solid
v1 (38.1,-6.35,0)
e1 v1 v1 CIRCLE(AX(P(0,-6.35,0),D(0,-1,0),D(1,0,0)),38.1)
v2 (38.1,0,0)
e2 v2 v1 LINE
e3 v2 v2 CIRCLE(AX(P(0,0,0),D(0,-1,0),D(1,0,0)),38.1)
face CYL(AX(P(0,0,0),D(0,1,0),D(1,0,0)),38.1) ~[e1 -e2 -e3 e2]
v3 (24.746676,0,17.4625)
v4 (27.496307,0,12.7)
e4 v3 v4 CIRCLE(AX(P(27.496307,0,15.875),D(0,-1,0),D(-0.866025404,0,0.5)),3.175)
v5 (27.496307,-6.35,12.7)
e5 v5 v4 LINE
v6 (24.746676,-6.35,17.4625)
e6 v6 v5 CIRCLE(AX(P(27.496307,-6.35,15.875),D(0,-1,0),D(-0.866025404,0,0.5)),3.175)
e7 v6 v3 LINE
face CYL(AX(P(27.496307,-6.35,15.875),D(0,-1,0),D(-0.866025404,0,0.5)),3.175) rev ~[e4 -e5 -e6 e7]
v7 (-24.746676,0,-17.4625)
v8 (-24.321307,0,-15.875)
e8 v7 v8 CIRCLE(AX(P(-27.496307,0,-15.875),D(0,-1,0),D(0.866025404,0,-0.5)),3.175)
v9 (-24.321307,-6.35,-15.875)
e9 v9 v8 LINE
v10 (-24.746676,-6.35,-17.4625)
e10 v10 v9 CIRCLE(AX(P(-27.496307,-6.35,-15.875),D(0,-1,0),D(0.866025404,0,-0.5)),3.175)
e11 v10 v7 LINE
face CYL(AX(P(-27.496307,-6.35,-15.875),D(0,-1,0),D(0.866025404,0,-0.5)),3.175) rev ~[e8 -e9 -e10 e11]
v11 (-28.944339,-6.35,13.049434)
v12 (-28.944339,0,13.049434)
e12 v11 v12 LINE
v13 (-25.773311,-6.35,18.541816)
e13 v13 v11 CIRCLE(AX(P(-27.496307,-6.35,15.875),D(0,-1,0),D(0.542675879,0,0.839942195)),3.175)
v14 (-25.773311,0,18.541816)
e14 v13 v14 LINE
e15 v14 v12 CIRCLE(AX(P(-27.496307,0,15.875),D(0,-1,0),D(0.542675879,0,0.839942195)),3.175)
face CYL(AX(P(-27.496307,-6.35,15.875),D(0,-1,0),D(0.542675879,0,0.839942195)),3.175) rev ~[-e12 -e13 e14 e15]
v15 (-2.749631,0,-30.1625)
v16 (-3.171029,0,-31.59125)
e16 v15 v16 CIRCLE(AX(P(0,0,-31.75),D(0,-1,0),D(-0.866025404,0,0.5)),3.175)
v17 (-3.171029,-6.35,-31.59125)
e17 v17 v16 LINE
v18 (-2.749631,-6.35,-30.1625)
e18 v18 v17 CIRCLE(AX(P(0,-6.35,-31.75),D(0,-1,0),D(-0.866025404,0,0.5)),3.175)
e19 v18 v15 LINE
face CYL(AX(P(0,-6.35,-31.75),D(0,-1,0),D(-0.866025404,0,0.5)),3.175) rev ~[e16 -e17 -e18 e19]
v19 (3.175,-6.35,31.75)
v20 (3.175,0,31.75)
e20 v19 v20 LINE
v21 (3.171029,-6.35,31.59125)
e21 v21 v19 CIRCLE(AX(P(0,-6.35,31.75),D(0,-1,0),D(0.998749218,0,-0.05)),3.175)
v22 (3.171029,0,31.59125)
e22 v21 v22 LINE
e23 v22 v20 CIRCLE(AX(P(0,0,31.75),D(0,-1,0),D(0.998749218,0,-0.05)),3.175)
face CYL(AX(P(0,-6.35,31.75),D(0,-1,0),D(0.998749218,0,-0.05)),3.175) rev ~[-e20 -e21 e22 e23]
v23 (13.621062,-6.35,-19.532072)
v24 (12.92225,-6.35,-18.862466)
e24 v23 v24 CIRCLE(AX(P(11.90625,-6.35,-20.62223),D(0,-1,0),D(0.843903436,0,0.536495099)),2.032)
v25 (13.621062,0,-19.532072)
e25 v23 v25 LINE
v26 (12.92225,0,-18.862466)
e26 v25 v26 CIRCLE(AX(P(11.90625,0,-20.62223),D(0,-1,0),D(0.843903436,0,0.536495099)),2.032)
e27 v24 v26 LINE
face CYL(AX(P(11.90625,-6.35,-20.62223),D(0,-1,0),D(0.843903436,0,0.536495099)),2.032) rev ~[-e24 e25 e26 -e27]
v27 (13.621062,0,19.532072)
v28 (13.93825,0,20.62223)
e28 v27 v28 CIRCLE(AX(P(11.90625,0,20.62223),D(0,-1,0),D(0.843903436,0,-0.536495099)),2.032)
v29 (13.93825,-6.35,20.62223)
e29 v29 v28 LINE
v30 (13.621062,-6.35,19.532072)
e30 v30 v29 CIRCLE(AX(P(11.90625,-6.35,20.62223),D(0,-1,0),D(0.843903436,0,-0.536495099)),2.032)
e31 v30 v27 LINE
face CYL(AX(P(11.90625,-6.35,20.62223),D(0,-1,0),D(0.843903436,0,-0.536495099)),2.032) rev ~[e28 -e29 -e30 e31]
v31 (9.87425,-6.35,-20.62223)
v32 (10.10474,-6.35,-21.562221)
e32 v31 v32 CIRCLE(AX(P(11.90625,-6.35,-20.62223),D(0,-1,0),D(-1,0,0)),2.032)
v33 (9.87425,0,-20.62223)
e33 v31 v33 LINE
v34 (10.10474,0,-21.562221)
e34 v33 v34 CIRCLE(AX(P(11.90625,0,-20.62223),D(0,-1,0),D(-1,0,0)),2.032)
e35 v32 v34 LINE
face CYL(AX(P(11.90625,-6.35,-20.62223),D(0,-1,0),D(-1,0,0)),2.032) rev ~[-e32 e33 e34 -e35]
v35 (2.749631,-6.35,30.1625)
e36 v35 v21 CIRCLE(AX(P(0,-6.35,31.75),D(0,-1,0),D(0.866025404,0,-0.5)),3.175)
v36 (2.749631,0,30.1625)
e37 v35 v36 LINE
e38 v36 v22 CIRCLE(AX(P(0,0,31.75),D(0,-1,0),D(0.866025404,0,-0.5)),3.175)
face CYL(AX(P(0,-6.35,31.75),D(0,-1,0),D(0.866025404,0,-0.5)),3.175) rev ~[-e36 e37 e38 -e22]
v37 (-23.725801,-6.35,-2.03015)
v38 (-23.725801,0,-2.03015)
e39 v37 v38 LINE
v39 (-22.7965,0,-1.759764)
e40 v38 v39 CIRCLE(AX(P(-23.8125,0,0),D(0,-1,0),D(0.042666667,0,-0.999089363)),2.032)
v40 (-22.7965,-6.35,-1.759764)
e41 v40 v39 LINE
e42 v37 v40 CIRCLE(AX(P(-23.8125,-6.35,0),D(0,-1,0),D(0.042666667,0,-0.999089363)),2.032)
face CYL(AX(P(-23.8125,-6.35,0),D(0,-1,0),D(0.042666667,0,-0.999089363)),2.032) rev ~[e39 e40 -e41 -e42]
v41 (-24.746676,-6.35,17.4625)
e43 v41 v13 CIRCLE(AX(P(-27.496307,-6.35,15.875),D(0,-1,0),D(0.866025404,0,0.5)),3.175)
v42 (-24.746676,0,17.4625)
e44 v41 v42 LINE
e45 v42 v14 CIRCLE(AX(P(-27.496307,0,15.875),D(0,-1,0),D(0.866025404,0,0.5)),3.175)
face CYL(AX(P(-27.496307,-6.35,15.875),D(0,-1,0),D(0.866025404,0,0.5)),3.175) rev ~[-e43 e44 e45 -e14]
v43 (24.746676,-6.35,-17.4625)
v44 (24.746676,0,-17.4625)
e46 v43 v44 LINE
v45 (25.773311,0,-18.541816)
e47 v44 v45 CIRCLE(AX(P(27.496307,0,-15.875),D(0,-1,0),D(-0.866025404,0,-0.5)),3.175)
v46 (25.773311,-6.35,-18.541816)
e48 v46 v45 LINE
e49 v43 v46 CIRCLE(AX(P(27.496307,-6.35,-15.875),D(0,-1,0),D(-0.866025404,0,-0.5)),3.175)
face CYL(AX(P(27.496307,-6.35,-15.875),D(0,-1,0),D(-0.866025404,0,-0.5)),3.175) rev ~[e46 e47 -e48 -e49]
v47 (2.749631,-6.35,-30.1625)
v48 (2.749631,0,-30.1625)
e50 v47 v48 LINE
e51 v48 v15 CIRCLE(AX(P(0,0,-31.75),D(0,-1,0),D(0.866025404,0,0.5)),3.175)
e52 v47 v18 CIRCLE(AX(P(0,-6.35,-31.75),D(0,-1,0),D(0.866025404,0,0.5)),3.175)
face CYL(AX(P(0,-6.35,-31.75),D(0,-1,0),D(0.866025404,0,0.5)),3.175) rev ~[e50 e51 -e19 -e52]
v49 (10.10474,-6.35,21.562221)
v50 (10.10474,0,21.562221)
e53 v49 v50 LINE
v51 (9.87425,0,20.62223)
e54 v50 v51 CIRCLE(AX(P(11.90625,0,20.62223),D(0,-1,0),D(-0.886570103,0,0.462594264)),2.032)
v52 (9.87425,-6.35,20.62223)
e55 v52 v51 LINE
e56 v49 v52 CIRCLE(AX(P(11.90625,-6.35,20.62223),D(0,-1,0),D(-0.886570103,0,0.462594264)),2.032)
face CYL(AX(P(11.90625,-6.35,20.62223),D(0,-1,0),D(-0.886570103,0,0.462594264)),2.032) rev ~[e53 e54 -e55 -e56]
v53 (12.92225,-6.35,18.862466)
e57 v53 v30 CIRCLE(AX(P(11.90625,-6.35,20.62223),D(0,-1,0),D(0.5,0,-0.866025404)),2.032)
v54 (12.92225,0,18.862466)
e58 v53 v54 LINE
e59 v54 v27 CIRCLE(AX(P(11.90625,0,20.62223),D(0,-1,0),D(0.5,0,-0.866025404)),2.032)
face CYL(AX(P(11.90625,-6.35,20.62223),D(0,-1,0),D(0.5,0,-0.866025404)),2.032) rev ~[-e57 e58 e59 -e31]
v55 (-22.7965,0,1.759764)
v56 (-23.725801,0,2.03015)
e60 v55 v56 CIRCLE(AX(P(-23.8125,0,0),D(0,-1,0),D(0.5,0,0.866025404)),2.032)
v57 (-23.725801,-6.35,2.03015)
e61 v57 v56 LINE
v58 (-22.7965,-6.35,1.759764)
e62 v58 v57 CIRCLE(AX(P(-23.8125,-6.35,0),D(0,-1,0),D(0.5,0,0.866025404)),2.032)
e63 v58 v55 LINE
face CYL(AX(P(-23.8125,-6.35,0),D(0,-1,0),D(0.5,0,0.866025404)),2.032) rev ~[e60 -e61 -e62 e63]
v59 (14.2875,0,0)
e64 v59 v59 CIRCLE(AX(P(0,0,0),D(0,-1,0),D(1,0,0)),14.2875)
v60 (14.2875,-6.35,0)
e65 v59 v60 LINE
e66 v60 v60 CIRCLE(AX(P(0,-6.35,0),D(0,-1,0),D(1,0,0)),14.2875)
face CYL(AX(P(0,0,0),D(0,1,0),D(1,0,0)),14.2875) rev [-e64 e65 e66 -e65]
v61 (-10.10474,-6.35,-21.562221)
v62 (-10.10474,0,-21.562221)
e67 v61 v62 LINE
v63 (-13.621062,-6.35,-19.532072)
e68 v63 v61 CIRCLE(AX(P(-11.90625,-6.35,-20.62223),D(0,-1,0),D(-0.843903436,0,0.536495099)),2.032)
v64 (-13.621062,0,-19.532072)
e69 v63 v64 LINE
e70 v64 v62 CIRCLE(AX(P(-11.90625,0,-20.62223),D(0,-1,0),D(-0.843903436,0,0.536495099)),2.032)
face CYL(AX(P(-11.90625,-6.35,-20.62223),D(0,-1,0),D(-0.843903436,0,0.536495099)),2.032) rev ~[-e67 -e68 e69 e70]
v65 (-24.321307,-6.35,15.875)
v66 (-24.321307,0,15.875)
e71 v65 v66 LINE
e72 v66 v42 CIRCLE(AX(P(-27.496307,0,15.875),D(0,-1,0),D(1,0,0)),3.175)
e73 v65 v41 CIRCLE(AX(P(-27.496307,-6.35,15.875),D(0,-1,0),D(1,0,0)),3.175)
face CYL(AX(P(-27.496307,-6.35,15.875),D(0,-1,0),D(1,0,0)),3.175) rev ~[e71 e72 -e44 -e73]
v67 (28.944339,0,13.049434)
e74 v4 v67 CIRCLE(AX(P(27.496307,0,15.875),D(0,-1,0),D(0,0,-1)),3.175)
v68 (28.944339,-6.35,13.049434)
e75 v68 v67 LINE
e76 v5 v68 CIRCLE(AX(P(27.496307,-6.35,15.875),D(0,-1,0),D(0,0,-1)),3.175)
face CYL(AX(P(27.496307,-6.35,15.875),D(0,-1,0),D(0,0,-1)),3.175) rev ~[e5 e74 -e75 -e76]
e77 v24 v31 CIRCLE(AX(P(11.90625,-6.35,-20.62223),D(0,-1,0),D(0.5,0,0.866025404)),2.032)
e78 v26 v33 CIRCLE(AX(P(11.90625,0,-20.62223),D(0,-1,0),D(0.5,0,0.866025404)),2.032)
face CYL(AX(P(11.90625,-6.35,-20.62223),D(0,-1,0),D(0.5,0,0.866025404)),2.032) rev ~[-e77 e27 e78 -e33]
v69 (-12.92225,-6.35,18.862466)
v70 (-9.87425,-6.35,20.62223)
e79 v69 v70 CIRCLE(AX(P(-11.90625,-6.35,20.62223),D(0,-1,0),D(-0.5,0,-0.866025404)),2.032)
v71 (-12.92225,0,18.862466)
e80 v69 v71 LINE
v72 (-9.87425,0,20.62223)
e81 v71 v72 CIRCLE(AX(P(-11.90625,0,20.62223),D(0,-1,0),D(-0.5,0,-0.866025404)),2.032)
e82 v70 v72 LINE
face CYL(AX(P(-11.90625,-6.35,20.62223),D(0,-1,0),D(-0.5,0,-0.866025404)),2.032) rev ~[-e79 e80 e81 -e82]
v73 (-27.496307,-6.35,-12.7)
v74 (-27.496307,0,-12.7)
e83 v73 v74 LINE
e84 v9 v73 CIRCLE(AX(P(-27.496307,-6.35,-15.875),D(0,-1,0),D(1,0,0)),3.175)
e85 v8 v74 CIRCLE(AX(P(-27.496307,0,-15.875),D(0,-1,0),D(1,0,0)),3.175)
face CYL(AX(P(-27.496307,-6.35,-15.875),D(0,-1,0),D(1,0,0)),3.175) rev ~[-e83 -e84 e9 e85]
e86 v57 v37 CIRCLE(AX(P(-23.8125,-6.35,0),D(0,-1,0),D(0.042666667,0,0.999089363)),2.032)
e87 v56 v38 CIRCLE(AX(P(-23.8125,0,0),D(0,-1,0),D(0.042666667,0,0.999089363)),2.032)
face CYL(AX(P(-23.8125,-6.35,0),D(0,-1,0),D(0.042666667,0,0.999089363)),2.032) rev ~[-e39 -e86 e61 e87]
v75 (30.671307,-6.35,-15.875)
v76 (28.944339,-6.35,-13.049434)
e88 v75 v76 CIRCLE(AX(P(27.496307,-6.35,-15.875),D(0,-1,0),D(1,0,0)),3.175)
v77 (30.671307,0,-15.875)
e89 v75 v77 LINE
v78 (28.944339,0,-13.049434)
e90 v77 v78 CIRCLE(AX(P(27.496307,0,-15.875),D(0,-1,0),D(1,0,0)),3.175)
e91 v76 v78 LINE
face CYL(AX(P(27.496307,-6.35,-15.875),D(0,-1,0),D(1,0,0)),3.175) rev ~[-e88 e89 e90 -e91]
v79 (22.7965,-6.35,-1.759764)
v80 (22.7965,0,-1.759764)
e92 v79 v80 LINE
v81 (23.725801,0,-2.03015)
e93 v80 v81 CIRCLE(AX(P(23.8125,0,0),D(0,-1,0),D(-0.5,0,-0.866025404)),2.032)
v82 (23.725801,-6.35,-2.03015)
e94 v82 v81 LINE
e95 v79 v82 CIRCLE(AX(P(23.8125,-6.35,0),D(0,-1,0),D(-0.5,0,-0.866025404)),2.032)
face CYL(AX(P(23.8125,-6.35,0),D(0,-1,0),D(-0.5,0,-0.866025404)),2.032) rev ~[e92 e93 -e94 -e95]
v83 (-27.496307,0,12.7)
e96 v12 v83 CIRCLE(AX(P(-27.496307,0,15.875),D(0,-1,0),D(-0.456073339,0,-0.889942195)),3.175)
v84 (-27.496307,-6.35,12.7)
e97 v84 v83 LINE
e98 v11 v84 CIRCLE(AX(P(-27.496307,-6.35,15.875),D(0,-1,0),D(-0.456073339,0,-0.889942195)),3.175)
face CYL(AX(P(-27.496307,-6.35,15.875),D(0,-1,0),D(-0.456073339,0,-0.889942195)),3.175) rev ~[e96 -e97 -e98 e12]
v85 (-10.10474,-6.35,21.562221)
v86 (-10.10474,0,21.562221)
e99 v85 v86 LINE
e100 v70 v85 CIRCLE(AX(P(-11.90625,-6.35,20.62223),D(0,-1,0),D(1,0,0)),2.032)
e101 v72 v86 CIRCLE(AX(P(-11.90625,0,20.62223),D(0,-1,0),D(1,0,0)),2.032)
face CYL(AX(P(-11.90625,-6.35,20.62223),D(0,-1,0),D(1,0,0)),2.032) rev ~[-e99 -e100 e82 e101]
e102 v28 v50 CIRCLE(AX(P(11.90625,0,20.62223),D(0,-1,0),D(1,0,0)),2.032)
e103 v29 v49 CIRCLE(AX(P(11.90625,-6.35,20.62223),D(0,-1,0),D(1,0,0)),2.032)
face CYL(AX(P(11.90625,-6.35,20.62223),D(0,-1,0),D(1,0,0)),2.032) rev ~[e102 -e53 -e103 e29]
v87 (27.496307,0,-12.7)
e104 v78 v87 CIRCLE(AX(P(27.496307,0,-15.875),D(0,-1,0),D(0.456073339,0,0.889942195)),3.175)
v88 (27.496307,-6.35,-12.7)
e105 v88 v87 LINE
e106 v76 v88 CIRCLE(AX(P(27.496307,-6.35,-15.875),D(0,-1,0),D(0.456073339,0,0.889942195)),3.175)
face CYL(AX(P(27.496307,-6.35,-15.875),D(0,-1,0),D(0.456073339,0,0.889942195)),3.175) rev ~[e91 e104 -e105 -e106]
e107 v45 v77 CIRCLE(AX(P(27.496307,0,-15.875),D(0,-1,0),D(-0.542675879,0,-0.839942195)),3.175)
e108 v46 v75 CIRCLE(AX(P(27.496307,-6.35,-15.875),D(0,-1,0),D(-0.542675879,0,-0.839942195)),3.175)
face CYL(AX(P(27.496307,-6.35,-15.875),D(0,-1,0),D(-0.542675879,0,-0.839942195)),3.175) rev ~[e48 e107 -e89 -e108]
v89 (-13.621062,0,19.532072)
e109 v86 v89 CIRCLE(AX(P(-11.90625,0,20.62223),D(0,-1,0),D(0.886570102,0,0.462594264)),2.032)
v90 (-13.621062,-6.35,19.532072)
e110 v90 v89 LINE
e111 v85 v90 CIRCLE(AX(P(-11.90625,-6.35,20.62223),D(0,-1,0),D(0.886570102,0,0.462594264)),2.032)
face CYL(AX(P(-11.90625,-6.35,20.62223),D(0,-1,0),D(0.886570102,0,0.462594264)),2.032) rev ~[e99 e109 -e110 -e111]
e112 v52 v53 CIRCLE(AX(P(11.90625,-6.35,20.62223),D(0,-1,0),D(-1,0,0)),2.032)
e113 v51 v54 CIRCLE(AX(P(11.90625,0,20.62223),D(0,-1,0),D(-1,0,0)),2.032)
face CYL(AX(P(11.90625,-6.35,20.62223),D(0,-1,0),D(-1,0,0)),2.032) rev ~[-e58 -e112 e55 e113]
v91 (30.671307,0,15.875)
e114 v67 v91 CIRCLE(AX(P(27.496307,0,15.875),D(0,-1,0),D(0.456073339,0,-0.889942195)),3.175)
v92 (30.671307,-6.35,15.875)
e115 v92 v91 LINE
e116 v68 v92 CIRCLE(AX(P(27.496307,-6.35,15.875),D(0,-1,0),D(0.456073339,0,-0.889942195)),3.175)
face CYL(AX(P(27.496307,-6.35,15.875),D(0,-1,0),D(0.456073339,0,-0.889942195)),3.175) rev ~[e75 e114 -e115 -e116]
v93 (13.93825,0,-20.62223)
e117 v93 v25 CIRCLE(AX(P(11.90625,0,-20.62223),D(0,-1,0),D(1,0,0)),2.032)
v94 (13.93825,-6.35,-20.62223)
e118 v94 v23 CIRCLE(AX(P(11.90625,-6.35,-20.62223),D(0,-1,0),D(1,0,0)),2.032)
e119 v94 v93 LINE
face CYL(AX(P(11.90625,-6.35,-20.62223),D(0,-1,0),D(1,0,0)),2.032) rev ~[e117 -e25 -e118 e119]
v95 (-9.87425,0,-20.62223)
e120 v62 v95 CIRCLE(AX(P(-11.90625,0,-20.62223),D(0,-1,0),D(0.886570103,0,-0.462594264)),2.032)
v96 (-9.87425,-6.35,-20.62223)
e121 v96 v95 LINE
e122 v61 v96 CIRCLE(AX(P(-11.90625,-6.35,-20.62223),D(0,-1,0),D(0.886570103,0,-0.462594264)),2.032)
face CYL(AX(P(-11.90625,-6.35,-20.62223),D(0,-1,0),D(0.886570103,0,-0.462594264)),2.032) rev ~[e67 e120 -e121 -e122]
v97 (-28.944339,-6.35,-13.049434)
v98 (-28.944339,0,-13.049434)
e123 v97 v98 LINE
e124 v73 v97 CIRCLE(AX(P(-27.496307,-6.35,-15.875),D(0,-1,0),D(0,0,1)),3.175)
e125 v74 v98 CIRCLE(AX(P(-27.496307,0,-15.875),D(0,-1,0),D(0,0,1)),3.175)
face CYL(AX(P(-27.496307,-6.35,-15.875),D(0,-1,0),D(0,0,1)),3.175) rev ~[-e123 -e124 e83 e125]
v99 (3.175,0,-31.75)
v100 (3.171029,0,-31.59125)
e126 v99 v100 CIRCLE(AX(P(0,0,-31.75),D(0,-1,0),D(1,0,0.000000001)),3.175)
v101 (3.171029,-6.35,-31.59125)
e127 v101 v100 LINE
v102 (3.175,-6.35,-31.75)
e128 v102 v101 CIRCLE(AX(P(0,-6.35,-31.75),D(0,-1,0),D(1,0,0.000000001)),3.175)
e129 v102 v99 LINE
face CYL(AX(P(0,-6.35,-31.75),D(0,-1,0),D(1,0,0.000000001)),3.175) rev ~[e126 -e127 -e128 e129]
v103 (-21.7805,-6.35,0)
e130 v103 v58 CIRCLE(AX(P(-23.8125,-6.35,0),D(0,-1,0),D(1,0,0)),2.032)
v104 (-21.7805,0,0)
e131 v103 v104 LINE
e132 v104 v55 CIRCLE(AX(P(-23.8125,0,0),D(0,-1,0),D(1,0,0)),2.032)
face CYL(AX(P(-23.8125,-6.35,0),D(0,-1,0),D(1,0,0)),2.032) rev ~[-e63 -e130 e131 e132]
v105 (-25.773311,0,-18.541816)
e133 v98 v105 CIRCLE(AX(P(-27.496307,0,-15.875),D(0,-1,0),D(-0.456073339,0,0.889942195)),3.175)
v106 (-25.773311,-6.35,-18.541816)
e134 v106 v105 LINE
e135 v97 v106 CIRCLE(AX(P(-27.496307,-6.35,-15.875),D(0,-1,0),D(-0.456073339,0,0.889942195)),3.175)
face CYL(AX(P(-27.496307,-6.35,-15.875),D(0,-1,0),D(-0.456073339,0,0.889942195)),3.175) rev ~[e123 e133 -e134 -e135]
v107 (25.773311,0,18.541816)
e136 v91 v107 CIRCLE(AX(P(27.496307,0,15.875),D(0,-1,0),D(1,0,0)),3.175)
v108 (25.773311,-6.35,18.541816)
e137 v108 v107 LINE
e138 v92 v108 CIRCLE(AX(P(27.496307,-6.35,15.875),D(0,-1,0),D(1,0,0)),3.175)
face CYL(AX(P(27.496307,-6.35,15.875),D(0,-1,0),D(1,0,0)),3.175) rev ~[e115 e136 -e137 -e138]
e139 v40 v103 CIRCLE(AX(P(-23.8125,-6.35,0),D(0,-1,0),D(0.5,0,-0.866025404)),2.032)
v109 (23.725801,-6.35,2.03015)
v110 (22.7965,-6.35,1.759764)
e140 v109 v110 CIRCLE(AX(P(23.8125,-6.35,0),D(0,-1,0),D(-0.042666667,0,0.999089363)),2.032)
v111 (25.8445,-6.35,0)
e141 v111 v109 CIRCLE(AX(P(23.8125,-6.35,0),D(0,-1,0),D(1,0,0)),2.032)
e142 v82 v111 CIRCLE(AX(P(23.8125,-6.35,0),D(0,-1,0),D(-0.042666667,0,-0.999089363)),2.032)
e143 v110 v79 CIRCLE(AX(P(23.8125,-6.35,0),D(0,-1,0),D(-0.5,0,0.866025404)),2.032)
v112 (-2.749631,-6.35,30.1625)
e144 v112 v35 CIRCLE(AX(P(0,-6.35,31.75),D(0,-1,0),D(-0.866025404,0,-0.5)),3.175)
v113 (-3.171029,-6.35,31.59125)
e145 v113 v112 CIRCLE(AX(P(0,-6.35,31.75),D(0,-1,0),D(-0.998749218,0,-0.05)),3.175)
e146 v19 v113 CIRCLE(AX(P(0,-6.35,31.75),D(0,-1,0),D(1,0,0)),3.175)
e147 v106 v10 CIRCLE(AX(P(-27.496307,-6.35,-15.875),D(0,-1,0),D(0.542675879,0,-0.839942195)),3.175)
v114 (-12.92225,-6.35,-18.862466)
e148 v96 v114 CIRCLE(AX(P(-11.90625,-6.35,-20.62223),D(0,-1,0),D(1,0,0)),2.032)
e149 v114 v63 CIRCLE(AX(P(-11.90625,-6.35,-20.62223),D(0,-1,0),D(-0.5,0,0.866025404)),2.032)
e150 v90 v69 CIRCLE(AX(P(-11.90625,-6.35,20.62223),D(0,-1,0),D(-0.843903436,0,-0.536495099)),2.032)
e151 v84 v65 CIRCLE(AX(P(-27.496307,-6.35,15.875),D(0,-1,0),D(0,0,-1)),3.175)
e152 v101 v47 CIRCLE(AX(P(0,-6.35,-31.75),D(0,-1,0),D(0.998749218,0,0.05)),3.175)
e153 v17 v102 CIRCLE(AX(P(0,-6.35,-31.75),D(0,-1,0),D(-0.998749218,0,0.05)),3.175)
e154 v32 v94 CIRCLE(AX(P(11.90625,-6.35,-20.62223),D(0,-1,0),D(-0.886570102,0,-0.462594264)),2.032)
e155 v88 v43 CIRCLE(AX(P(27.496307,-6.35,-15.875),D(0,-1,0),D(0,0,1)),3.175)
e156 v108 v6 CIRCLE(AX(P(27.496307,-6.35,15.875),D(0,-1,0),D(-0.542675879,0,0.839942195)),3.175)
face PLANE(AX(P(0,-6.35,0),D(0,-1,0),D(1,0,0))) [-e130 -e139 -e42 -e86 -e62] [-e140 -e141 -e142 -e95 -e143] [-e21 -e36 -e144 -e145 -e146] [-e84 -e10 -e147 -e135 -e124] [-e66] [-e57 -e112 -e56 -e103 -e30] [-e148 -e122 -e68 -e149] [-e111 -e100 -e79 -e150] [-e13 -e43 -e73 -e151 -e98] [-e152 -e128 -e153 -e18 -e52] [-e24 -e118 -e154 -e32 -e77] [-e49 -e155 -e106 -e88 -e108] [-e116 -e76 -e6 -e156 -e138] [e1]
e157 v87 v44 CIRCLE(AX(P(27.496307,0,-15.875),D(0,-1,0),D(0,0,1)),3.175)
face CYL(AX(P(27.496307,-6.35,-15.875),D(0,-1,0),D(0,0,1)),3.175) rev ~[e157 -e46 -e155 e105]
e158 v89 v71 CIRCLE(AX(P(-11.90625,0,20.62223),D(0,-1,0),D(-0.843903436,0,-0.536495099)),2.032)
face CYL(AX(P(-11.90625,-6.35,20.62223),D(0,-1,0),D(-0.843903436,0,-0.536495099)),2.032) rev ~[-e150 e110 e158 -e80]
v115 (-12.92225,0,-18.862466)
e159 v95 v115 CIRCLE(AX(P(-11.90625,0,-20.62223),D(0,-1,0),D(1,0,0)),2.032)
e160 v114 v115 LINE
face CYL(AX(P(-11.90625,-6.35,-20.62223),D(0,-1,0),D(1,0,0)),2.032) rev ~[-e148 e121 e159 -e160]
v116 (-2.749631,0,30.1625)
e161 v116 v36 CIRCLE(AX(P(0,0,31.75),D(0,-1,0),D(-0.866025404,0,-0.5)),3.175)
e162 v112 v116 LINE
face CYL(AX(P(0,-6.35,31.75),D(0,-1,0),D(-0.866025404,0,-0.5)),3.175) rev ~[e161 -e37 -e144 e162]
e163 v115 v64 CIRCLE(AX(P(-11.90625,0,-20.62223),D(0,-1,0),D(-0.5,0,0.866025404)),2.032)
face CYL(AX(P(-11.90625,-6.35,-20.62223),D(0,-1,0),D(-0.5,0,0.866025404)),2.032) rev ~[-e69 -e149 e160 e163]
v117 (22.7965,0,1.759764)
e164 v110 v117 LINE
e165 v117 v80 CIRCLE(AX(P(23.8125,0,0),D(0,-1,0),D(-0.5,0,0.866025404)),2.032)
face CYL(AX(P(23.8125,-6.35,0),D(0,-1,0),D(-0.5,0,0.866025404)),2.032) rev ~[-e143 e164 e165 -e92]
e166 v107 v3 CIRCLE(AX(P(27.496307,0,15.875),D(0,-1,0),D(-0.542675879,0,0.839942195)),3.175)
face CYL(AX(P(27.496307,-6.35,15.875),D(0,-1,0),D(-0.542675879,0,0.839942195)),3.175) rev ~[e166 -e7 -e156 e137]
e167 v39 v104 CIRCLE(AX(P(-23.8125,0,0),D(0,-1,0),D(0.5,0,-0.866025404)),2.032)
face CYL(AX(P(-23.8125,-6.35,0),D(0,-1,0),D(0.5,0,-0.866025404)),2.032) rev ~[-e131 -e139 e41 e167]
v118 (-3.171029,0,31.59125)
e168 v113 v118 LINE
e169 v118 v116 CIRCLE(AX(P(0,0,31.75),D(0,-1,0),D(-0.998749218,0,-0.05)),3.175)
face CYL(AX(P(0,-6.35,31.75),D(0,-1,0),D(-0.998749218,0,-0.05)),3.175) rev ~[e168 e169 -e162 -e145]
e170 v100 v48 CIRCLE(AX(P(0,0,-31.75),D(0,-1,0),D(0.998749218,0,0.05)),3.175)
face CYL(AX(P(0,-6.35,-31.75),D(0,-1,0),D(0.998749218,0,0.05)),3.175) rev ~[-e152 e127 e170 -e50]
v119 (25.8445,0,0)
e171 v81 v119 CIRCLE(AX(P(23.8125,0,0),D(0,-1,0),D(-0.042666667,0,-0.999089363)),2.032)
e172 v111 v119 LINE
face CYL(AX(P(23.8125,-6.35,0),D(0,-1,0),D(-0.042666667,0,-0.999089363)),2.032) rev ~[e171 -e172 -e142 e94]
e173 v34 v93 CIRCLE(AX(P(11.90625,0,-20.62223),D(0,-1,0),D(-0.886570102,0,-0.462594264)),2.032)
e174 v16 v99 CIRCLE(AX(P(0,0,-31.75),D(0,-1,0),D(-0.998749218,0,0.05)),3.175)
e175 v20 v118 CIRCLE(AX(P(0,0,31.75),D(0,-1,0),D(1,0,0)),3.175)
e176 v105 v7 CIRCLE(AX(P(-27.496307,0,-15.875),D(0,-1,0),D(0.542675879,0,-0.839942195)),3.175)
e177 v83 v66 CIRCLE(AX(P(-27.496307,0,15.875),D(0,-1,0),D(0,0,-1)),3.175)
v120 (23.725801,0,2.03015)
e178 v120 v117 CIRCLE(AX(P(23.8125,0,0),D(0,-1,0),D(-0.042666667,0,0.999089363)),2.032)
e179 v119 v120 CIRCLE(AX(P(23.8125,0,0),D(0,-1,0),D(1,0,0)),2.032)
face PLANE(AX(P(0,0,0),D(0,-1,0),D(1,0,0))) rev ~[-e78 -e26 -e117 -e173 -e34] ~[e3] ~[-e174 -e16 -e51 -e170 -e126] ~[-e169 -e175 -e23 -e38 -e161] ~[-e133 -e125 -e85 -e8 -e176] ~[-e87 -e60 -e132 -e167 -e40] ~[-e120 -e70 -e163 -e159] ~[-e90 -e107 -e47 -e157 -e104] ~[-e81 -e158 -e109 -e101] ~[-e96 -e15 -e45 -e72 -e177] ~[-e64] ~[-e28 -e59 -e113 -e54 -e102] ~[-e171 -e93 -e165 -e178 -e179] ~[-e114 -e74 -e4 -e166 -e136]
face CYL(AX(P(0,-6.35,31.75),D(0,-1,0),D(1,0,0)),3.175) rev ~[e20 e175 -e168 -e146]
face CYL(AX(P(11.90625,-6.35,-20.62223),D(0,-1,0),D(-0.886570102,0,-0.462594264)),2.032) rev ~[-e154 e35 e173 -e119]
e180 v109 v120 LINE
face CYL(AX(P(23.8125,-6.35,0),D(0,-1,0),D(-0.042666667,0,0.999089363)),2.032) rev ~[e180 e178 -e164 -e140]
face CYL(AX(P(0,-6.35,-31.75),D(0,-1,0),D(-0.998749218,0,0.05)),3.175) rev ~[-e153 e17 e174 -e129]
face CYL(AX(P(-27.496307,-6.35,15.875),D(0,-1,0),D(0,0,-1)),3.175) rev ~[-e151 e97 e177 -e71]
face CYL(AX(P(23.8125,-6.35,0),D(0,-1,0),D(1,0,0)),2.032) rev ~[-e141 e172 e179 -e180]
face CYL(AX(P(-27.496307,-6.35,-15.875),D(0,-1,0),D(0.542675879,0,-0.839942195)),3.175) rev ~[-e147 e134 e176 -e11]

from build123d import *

# Parameters (mm, degrees)
F0_R     = 38.1
F0_R_2   = 14.2875
F1_DEPTH = 6.35
F3_DEPTH = 6.351


with BuildPart() as f1:
    # F0 (on Front) → F1 (new body)
    with BuildSketch(Plane.XZ):
        Circle(F0_R)
        Circle(F0_R_2, mode=Mode.SUBTRACT)
    extrude(amount=F1_DEPTH)

    # F2 (on face) → F3 (cut, through all)
    with BuildSketch(Plane.XZ.offset(6.35)):
        with BuildLine():
            ThreePointArc((27.4963065702, 15.875), (28.2556646786, 14.4803285036), (28.9443394205, 13.0494335321))
            ThreePointArc((28.9443394205, 13.0494335321), (30.2053773795, 14.2192342104), (30.6713065702, 15.875))
            ThreePointArc((30.6713065702, 15.875), (29.0145478169, 18.6634706412), (25.7733106541, 18.5418164679))
            ThreePointArc((25.7733106541, 18.5418164679), (26.6681646786, 17.2299591606), (27.4963065702, 15.875))
        make_face()
        with BuildLine():
            ThreePointArc((27.4963065702, 12.7), (28.2411056923, 12.7885944421), (28.9443394205, 13.0494335321))
            ThreePointArc((28.9443394205, 13.0494335321), (28.2556646786, 14.4803285036), (27.4963065702, 15.875))
            Line((27.4963065702, 15.875), (27.4963065702, 12.7))
        make_face()
        with BuildLine():
            Line((24.7466759131, 17.4625), (27.4963065702, 15.875))
            ThreePointArc((27.4963065702, 15.875), (26.6681646786, 17.2299591606), (25.7733106541, 18.5418164679))
            ThreePointArc((25.7733106541, 18.5418164679), (25.1958005117, 18.0632177394), (24.7466759131, 17.4625))
        make_face()
        with BuildLine():
            ThreePointArc((0, 31.75), (1.5875, 31.7102876643), (3.1710287664, 31.59125))
            ThreePointArc((3.1710287664, 31.59125), (3.1740070363, 31.6706001681), (3.175, 31.75))
            ThreePointArc((3.175, 31.75), (-0.0793998319, 34.9240070363), (-3.1710287664, 31.59125))
            ThreePointArc((-3.1710287664, 31.59125), (-1.5875, 31.7102876643), (0, 31.75))
        make_face()
        with BuildLine():
            ThreePointArc((2.749630657, 30.1625), (3.0453051806, 30.8518121815), (3.1710287664, 31.59125))
            ThreePointArc((3.1710287664, 31.59125), (1.5875, 31.7102876643), (0, 31.75))
            Line((0, 31.75), (2.749630657, 30.1625))
        make_face()
        with BuildLine():
            Line((-2.749630657, 30.1625), (0, 31.75))
            ThreePointArc((0, 31.75), (-1.5875, 31.7102876643), (-3.1710287664, 31.59125))
            ThreePointArc((-3.1710287664, 31.59125), (-3.0453051806, 30.8518121815), (-2.749630657, 30.1625))
        make_face()
        with BuildLine():
            ThreePointArc((-27.4963065702, 15.875), (-26.6681646786, 17.2299591606), (-25.7733106541, 18.5418164679))
            ThreePointArc((-25.7733106541, 18.5418164679), (-30.2459372272, 17.4625), (-28.9443394205, 13.0494335321))
            ThreePointArc((-28.9443394205, 13.0494335321), (-28.2556646786, 14.4803285036), (-27.4963065702, 15.875))
        make_face()
        with BuildLine():
            Line((-27.4963065702, 15.875), (-24.7466759131, 17.4625))
            ThreePointArc((-24.7466759131, 17.4625), (-25.1958005117, 18.0632177394), (-25.7733106541, 18.5418164679))
            ThreePointArc((-25.7733106541, 18.5418164679), (-26.6681646786, 17.2299591606), (-27.4963065702, 15.875))
        make_face()
        with BuildLine():
            Line((-27.4963065702, 12.7), (-27.4963065702, 15.875))
            ThreePointArc((-27.4963065702, 15.875), (-28.2556646786, 14.4803285036), (-28.9443394205, 13.0494335321))
            ThreePointArc((-28.9443394205, 13.0494335321), (-28.2411056923, 12.7885944421), (-27.4963065702, 12.7))
        make_face()
        with BuildLine():
            ThreePointArc((-28.9443394205, -13.0494335321), (-30.2459372272, -17.4625), (-25.7733106541, -18.5418164679))
            ThreePointArc((-25.7733106541, -18.5418164679), (-26.6681646786, -17.2299591606), (-27.4963065702, -15.875))
            ThreePointArc((-27.4963065702, -15.875), (-28.2556646786, -14.4803285036), (-28.9443394205, -13.0494335321))
        make_face()
        with BuildLine():
            ThreePointArc((-28.9443394205, -13.0494335321), (-28.2556646786, -14.4803285036), (-27.4963065702, -15.875))
            Line((-27.4963065702, -15.875), (-27.4963065702, -12.7))
            ThreePointArc((-27.4963065702, -12.7), (-28.2411056923, -12.7885944421), (-28.9443394205, -13.0494335321))
        make_face()
        with BuildLine():
            ThreePointArc((-25.7733106541, -18.5418164679), (-25.1958005117, -18.0632177394), (-24.7466759131, -17.4625))
            Line((-24.7466759131, -17.4625), (-27.4963065702, -15.875))
            ThreePointArc((-27.4963065702, -15.875), (-26.6681646786, -17.2299591606), (-25.7733106541, -18.5418164679))
        make_face()
        with BuildLine():
            ThreePointArc((3.175, -31.75), (3.1740070363, -31.6706001681), (3.1710287664, -31.59125))
            ThreePointArc((3.1710287664, -31.59125), (1.5875, -31.7102876643), (0, -31.75))
            ThreePointArc((0, -31.75), (-1.5875, -31.7102876643), (-3.1710287664, -31.59125))
            ThreePointArc((-3.1710287664, -31.59125), (-0.0793998319, -34.9240070363), (3.175, -31.75))
        make_face()
        with BuildLine():
            ThreePointArc((-3.1710287664, -31.59125), (-1.5875, -31.7102876643), (0, -31.75))
            Line((0, -31.75), (-2.749630657, -30.1625))
            ThreePointArc((-2.749630657, -30.1625), (-3.0453051806, -30.8518121815), (-3.1710287664, -31.59125))
        make_face()
        with BuildLine():
            ThreePointArc((0, -31.75), (1.5875, -31.7102876643), (3.1710287664, -31.59125))
            ThreePointArc((3.1710287664, -31.59125), (3.0453051806, -30.8518121815), (2.749630657, -30.1625))
            Line((2.749630657, -30.1625), (0, -31.75))
        make_face()
        with BuildLine():
            ThreePointArc((30.6713065702, -15.875), (30.2053773795, -14.2192342104), (28.9443394205, -13.0494335321))
            ThreePointArc((28.9443394205, -13.0494335321), (28.2556646786, -14.4803285036), (27.4963065702, -15.875))
            ThreePointArc((27.4963065702, -15.875), (26.6681646786, -17.2299591606), (25.7733106541, -18.5418164679))
            ThreePointArc((25.7733106541, -18.5418164679), (29.0145478169, -18.6634706412), (30.6713065702, -15.875))
        make_face()
        with BuildLine():
            ThreePointArc((25.7733106541, -18.5418164679), (26.6681646786, -17.2299591606), (27.4963065702, -15.875))
            Line((27.4963065702, -15.875), (24.7466759131, -17.4625))
            ThreePointArc((24.7466759131, -17.4625), (25.1958005117, -18.0632177394), (25.7733106541, -18.5418164679))
        make_face()
        with BuildLine():
            ThreePointArc((27.4963065702, -15.875), (28.2556646786, -14.4803285036), (28.9443394205, -13.0494335321))
            ThreePointArc((28.9443394205, -13.0494335321), (28.2411056923, -12.7885944421), (27.4963065702, -12.7))
            Line((27.4963065702, -12.7), (27.4963065702, -15.875))
        make_face()
        with BuildLine():
            ThreePointArc((-24.3213065702, 15.875), (-24.4294920717, 16.6967504682), (-24.7466759131, 17.4625))
            Line((-24.7466759131, 17.4625), (-27.4963065702, 15.875))
            Line((-27.4963065702, 15.875), (-27.4963065702, 12.7))
            ThreePointArc((-27.4963065702, 12.7), (-25.2512425399, 13.6299359697), (-24.3213065702, 15.875))
        make_face()
        with BuildLine():
            Line((-27.4963065702, -15.875), (-24.7466759131, -17.4625))
            ThreePointArc((-24.7466759131, -17.4625), (-24.4294920717, -16.6967504682), (-24.3213065702, -15.875))
            ThreePointArc((-24.3213065702, -15.875), (-25.2512425399, -13.6299359697), (-27.4963065702, -12.7))
            Line((-27.4963065702, -12.7), (-27.4963065702, -15.875))
        make_face()
        with BuildLine():
            Line((0, -31.75), (2.749630657, -30.1625))
            ThreePointArc((2.749630657, -30.1625), (0, -28.575), (-2.749630657, -30.1625))
            Line((-2.749630657, -30.1625), (0, -31.75))
        make_face()
        with BuildLine():
            Line((24.7466759131, -17.4625), (27.4963065702, -15.875))
            Line((27.4963065702, -15.875), (27.4963065702, -12.7))
            ThreePointArc((27.4963065702, -12.7), (24.7466759131, -14.2875), (24.7466759131, -17.4625))
        make_face()
        with BuildLine():
            Line((27.4963065702, 12.7), (27.4963065702, 15.875))
            Line((27.4963065702, 15.875), (24.7466759131, 17.4625))
            ThreePointArc((24.7466759131, 17.4625), (24.7466759131, 14.2875), (27.4963065702, 12.7))
        make_face()
        with BuildLine():
            ThreePointArc((-2.749630657, 30.1625), (0, 28.575), (2.749630657, 30.1625))
            Line((2.749630657, 30.1625), (0, 31.75))
            Line((0, 31.75), (-2.749630657, 30.1625))
        make_face()
        with BuildLine():
            ThreePointArc((-11.90625, 20.6222299276), (-11.0155259197, 21.1114505651), (-10.1047395518, 21.5622214728))
            ThreePointArc((-10.1047395518, 21.5622214728), (-12.92225, 22.3819935481), (-13.6210617816, 19.5320718869))
            ThreePointArc((-13.6210617816, 19.5320718869), (-12.7752895402, 20.0954505651), (-11.90625, 20.6222299276))
        make_face()
        with BuildLine():
            ThreePointArc((-12.92225, 18.8624663071), (-10.89025, 18.8624663071), (-9.87425, 20.6222299276))
            Line((-9.87425, 20.6222299276), (-11.90625, 20.6222299276))
            Line((-11.90625, 20.6222299276), (-12.92225, 18.8624663071))
        make_face()
        with BuildLine():
            Line((-11.90625, 20.6222299276), (-9.87425, 20.6222299276))
            ThreePointArc((-9.87425, 20.6222299276), (-9.9327134244, 21.1061487066), (-10.1047395518, 21.5622214728))
            ThreePointArc((-10.1047395518, 21.5622214728), (-11.0155259197, 21.1114505651), (-11.90625, 20.6222299276))
        make_face()
        with BuildLine():
            Line((-12.92225, 18.8624663071), (-11.90625, 20.6222299276))
            ThreePointArc((-11.90625, 20.6222299276), (-12.7752895402, 20.0954505651), (-13.6210617816, 19.5320718869))
            ThreePointArc((-13.6210617816, 19.5320718869), (-13.3121042437, 19.1550565073), (-12.92225, 18.8624663071))
        make_face()
        with BuildLine():
            Line((9.87425, 20.6222299276), (11.90625, 20.6222299276))
            ThreePointArc((11.90625, 20.6222299276), (11.0155259197, 21.1114505651), (10.1047395518, 21.5622214728))
            ThreePointArc((10.1047395518, 21.5622214728), (9.9327134244, 21.1061487066), (9.87425, 20.6222299276))
        make_face()
        with BuildLine():
            ThreePointArc((11.90625, 20.6222299276), (12.7752895402, 20.0954505651), (13.6210617816, 19.5320718869))
            ThreePointArc((13.6210617816, 19.5320718869), (13.8573421993, 20.0545475957), (13.93825, 20.6222299276))
            ThreePointArc((13.93825, 20.6222299276), (12.3901687789, 22.5957665033), (10.1047395518, 21.5622214728))
            ThreePointArc((10.1047395518, 21.5622214728), (11.0155259197, 21.1114505651), (11.90625, 20.6222299276))
        make_face()
        with BuildLine():
            ThreePointArc((9.87425, 20.6222299276), (10.89025, 18.8624663071), (12.92225, 18.8624663071))
            Line((12.92225, 18.8624663071), (11.90625, 20.6222299276))
            Line((11.90625, 20.6222299276), (9.87425, 20.6222299276))
        make_face()
        with BuildLine():
            ThreePointArc((12.92225, 18.8624663071), (13.3121042437, 19.1550565073), (13.6210617816, 19.5320718869))
            ThreePointArc((13.6210617816, 19.5320718869), (12.7752895402, 20.0954505651), (11.90625, 20.6222299276))
            Line((11.90625, 20.6222299276), (12.92225, 18.8624663071))
        make_face()
        with BuildLine():
            Line((11.90625, -20.6222299276), (12.92225, -18.8624663071))
            ThreePointArc((12.92225, -18.8624663071), (10.89025, -18.8624663071), (9.87425, -20.6222299276))
            Line((9.87425, -20.6222299276), (11.90625, -20.6222299276))
        make_face()
        with BuildLine():
            ThreePointArc((13.93825, -20.6222299276), (13.8573421993, -20.0545475957), (13.6210617816, -19.5320718869))
            ThreePointArc((13.6210617816, -19.5320718869), (12.7752895402, -20.0954505651), (11.90625, -20.6222299276))
            ThreePointArc((11.90625, -20.6222299276), (11.0155259197, -21.1114505651), (10.1047395518, -21.5622214728))
            ThreePointArc((10.1047395518, -21.5622214728), (12.3901687789, -22.5957665033), (13.93825, -20.6222299276))
        make_face()
        with BuildLine():
            ThreePointArc((11.90625, -20.6222299276), (12.7752895402, -20.0954505651), (13.6210617816, -19.5320718869))
            ThreePointArc((13.6210617816, -19.5320718869), (13.3121042437, -19.1550565073), (12.92225, -18.8624663071))
            Line((12.92225, -18.8624663071), (11.90625, -20.6222299276))
        make_face()
        with BuildLine():
            ThreePointArc((10.1047395518, -21.5622214728), (11.0155259197, -21.1114505651), (11.90625, -20.6222299276))
            Line((11.90625, -20.6222299276), (9.87425, -20.6222299276))
            ThreePointArc((9.87425, -20.6222299276), (9.9327134244, -21.1061487066), (10.1047395518, -21.5622214728))
        make_face()
        with BuildLine():
            ThreePointArc((-13.6210617816, -19.5320718869), (-12.92225, -22.3819935481), (-10.1047395518, -21.5622214728))
            ThreePointArc((-10.1047395518, -21.5622214728), (-11.0155259197, -21.1114505651), (-11.90625, -20.6222299276))
            ThreePointArc((-11.90625, -20.6222299276), (-12.7752895402, -20.0954505651), (-13.6210617816, -19.5320718869))
        make_face()
        with BuildLine():
            ThreePointArc((-10.1047395518, -21.5622214728), (-9.9327134244, -21.1061487066), (-9.87425, -20.6222299276))
            Line((-9.87425, -20.6222299276), (-11.90625, -20.6222299276))
            ThreePointArc((-11.90625, -20.6222299276), (-11.0155259197, -21.1114505651), (-10.1047395518, -21.5622214728))
        make_face()
        with BuildLine():
            Line((-11.90625, -20.6222299276), (-9.87425, -20.6222299276))
            ThreePointArc((-9.87425, -20.6222299276), (-10.89025, -18.8624663071), (-12.92225, -18.8624663071))
            Line((-12.92225, -18.8624663071), (-11.90625, -20.6222299276))
        make_face()
        with BuildLine():
            ThreePointArc((-13.6210617816, -19.5320718869), (-12.7752895402, -20.0954505651), (-11.90625, -20.6222299276))
            Line((-11.90625, -20.6222299276), (-12.92225, -18.8624663071))
            ThreePointArc((-12.92225, -18.8624663071), (-13.3121042437, -19.1550565073), (-13.6210617816, -19.5320718869))
        make_face()
        with BuildLine():
            Line((-23.8125, 0), (-22.7965, 1.7597636205))
            ThreePointArc((-22.7965, 1.7597636205), (-23.2448176681, 1.9510921993), (-23.7258013333, 2.0301495859))
            ThreePointArc((-23.7258013333, 2.0301495859), (-23.79081546, 1.016), (-23.8125, 0))
        make_face()
        with BuildLine():
            ThreePointArc((-21.7805, 0), (-22.0527363795, 1.016), (-22.7965, 1.7597636205))
            Line((-22.7965, 1.7597636205), (-23.8125, 0))
            Line((-23.8125, 0), (-22.7965, -1.7597636205))
            ThreePointArc((-22.7965, -1.7597636205), (-22.0527363795, -1.016), (-21.7805, 0))
        make_face()
        with BuildLine():
            ThreePointArc((-23.7258013333, -2.0301495859), (-23.2448176681, -1.9510921993), (-22.7965, -1.7597636205))
            Line((-22.7965, -1.7597636205), (-23.8125, 0))
            ThreePointArc((-23.8125, 0), (-23.79081546, -1.016), (-23.7258013333, -2.0301495859))
        make_face()
        with BuildLine():
            ThreePointArc((-23.8125, 0), (-23.79081546, 1.016), (-23.7258013333, 2.0301495859))
            ThreePointArc((-23.7258013333, 2.0301495859), (-25.8445, 0), (-23.7258013333, -2.0301495859))
            ThreePointArc((-23.7258013333, -2.0301495859), (-23.79081546, -1.016), (-23.8125, 0))
        make_face()
        with BuildLine():
            ThreePointArc((23.7258013333, 2.0301495859), (23.79081546, 1.016), (23.8125, 0))
            ThreePointArc((23.8125, 0), (23.79081546, -1.016), (23.7258013333, -2.0301495859))
            ThreePointArc((23.7258013333, -2.0301495859), (25.2183542437, -1.4671734203), (25.8445, 0))
            ThreePointArc((25.8445, 0), (25.2183542437, 1.4671734203), (23.7258013333, 2.0301495859))
        make_face()
        with BuildLine():
            Line((22.7965, 1.7597636205), (23.8125, 0))
            ThreePointArc((23.8125, 0), (23.79081546, 1.016), (23.7258013333, 2.0301495859))
            ThreePointArc((23.7258013333, 2.0301495859), (23.2448176681, 1.9510921993), (22.7965, 1.7597636205))
        make_face()
        with BuildLine():
            Line((22.7965, -1.7597636205), (23.8125, 0))
            Line((23.8125, 0), (22.7965, 1.7597636205))
            ThreePointArc((22.7965, 1.7597636205), (21.7805, 0), (22.7965, -1.7597636205))
        make_face()
        with BuildLine():
            ThreePointArc((23.7258013333, -2.0301495859), (23.79081546, -1.016), (23.8125, 0))
            Line((23.8125, 0), (22.7965, -1.7597636205))
            ThreePointArc((22.7965, -1.7597636205), (23.2448176681, -1.9510921993), (23.7258013333, -2.0301495859))
        make_face()
    extrude(amount=-F3_DEPTH, mode=Mode.SUBTRACT)


solid = f1.part
